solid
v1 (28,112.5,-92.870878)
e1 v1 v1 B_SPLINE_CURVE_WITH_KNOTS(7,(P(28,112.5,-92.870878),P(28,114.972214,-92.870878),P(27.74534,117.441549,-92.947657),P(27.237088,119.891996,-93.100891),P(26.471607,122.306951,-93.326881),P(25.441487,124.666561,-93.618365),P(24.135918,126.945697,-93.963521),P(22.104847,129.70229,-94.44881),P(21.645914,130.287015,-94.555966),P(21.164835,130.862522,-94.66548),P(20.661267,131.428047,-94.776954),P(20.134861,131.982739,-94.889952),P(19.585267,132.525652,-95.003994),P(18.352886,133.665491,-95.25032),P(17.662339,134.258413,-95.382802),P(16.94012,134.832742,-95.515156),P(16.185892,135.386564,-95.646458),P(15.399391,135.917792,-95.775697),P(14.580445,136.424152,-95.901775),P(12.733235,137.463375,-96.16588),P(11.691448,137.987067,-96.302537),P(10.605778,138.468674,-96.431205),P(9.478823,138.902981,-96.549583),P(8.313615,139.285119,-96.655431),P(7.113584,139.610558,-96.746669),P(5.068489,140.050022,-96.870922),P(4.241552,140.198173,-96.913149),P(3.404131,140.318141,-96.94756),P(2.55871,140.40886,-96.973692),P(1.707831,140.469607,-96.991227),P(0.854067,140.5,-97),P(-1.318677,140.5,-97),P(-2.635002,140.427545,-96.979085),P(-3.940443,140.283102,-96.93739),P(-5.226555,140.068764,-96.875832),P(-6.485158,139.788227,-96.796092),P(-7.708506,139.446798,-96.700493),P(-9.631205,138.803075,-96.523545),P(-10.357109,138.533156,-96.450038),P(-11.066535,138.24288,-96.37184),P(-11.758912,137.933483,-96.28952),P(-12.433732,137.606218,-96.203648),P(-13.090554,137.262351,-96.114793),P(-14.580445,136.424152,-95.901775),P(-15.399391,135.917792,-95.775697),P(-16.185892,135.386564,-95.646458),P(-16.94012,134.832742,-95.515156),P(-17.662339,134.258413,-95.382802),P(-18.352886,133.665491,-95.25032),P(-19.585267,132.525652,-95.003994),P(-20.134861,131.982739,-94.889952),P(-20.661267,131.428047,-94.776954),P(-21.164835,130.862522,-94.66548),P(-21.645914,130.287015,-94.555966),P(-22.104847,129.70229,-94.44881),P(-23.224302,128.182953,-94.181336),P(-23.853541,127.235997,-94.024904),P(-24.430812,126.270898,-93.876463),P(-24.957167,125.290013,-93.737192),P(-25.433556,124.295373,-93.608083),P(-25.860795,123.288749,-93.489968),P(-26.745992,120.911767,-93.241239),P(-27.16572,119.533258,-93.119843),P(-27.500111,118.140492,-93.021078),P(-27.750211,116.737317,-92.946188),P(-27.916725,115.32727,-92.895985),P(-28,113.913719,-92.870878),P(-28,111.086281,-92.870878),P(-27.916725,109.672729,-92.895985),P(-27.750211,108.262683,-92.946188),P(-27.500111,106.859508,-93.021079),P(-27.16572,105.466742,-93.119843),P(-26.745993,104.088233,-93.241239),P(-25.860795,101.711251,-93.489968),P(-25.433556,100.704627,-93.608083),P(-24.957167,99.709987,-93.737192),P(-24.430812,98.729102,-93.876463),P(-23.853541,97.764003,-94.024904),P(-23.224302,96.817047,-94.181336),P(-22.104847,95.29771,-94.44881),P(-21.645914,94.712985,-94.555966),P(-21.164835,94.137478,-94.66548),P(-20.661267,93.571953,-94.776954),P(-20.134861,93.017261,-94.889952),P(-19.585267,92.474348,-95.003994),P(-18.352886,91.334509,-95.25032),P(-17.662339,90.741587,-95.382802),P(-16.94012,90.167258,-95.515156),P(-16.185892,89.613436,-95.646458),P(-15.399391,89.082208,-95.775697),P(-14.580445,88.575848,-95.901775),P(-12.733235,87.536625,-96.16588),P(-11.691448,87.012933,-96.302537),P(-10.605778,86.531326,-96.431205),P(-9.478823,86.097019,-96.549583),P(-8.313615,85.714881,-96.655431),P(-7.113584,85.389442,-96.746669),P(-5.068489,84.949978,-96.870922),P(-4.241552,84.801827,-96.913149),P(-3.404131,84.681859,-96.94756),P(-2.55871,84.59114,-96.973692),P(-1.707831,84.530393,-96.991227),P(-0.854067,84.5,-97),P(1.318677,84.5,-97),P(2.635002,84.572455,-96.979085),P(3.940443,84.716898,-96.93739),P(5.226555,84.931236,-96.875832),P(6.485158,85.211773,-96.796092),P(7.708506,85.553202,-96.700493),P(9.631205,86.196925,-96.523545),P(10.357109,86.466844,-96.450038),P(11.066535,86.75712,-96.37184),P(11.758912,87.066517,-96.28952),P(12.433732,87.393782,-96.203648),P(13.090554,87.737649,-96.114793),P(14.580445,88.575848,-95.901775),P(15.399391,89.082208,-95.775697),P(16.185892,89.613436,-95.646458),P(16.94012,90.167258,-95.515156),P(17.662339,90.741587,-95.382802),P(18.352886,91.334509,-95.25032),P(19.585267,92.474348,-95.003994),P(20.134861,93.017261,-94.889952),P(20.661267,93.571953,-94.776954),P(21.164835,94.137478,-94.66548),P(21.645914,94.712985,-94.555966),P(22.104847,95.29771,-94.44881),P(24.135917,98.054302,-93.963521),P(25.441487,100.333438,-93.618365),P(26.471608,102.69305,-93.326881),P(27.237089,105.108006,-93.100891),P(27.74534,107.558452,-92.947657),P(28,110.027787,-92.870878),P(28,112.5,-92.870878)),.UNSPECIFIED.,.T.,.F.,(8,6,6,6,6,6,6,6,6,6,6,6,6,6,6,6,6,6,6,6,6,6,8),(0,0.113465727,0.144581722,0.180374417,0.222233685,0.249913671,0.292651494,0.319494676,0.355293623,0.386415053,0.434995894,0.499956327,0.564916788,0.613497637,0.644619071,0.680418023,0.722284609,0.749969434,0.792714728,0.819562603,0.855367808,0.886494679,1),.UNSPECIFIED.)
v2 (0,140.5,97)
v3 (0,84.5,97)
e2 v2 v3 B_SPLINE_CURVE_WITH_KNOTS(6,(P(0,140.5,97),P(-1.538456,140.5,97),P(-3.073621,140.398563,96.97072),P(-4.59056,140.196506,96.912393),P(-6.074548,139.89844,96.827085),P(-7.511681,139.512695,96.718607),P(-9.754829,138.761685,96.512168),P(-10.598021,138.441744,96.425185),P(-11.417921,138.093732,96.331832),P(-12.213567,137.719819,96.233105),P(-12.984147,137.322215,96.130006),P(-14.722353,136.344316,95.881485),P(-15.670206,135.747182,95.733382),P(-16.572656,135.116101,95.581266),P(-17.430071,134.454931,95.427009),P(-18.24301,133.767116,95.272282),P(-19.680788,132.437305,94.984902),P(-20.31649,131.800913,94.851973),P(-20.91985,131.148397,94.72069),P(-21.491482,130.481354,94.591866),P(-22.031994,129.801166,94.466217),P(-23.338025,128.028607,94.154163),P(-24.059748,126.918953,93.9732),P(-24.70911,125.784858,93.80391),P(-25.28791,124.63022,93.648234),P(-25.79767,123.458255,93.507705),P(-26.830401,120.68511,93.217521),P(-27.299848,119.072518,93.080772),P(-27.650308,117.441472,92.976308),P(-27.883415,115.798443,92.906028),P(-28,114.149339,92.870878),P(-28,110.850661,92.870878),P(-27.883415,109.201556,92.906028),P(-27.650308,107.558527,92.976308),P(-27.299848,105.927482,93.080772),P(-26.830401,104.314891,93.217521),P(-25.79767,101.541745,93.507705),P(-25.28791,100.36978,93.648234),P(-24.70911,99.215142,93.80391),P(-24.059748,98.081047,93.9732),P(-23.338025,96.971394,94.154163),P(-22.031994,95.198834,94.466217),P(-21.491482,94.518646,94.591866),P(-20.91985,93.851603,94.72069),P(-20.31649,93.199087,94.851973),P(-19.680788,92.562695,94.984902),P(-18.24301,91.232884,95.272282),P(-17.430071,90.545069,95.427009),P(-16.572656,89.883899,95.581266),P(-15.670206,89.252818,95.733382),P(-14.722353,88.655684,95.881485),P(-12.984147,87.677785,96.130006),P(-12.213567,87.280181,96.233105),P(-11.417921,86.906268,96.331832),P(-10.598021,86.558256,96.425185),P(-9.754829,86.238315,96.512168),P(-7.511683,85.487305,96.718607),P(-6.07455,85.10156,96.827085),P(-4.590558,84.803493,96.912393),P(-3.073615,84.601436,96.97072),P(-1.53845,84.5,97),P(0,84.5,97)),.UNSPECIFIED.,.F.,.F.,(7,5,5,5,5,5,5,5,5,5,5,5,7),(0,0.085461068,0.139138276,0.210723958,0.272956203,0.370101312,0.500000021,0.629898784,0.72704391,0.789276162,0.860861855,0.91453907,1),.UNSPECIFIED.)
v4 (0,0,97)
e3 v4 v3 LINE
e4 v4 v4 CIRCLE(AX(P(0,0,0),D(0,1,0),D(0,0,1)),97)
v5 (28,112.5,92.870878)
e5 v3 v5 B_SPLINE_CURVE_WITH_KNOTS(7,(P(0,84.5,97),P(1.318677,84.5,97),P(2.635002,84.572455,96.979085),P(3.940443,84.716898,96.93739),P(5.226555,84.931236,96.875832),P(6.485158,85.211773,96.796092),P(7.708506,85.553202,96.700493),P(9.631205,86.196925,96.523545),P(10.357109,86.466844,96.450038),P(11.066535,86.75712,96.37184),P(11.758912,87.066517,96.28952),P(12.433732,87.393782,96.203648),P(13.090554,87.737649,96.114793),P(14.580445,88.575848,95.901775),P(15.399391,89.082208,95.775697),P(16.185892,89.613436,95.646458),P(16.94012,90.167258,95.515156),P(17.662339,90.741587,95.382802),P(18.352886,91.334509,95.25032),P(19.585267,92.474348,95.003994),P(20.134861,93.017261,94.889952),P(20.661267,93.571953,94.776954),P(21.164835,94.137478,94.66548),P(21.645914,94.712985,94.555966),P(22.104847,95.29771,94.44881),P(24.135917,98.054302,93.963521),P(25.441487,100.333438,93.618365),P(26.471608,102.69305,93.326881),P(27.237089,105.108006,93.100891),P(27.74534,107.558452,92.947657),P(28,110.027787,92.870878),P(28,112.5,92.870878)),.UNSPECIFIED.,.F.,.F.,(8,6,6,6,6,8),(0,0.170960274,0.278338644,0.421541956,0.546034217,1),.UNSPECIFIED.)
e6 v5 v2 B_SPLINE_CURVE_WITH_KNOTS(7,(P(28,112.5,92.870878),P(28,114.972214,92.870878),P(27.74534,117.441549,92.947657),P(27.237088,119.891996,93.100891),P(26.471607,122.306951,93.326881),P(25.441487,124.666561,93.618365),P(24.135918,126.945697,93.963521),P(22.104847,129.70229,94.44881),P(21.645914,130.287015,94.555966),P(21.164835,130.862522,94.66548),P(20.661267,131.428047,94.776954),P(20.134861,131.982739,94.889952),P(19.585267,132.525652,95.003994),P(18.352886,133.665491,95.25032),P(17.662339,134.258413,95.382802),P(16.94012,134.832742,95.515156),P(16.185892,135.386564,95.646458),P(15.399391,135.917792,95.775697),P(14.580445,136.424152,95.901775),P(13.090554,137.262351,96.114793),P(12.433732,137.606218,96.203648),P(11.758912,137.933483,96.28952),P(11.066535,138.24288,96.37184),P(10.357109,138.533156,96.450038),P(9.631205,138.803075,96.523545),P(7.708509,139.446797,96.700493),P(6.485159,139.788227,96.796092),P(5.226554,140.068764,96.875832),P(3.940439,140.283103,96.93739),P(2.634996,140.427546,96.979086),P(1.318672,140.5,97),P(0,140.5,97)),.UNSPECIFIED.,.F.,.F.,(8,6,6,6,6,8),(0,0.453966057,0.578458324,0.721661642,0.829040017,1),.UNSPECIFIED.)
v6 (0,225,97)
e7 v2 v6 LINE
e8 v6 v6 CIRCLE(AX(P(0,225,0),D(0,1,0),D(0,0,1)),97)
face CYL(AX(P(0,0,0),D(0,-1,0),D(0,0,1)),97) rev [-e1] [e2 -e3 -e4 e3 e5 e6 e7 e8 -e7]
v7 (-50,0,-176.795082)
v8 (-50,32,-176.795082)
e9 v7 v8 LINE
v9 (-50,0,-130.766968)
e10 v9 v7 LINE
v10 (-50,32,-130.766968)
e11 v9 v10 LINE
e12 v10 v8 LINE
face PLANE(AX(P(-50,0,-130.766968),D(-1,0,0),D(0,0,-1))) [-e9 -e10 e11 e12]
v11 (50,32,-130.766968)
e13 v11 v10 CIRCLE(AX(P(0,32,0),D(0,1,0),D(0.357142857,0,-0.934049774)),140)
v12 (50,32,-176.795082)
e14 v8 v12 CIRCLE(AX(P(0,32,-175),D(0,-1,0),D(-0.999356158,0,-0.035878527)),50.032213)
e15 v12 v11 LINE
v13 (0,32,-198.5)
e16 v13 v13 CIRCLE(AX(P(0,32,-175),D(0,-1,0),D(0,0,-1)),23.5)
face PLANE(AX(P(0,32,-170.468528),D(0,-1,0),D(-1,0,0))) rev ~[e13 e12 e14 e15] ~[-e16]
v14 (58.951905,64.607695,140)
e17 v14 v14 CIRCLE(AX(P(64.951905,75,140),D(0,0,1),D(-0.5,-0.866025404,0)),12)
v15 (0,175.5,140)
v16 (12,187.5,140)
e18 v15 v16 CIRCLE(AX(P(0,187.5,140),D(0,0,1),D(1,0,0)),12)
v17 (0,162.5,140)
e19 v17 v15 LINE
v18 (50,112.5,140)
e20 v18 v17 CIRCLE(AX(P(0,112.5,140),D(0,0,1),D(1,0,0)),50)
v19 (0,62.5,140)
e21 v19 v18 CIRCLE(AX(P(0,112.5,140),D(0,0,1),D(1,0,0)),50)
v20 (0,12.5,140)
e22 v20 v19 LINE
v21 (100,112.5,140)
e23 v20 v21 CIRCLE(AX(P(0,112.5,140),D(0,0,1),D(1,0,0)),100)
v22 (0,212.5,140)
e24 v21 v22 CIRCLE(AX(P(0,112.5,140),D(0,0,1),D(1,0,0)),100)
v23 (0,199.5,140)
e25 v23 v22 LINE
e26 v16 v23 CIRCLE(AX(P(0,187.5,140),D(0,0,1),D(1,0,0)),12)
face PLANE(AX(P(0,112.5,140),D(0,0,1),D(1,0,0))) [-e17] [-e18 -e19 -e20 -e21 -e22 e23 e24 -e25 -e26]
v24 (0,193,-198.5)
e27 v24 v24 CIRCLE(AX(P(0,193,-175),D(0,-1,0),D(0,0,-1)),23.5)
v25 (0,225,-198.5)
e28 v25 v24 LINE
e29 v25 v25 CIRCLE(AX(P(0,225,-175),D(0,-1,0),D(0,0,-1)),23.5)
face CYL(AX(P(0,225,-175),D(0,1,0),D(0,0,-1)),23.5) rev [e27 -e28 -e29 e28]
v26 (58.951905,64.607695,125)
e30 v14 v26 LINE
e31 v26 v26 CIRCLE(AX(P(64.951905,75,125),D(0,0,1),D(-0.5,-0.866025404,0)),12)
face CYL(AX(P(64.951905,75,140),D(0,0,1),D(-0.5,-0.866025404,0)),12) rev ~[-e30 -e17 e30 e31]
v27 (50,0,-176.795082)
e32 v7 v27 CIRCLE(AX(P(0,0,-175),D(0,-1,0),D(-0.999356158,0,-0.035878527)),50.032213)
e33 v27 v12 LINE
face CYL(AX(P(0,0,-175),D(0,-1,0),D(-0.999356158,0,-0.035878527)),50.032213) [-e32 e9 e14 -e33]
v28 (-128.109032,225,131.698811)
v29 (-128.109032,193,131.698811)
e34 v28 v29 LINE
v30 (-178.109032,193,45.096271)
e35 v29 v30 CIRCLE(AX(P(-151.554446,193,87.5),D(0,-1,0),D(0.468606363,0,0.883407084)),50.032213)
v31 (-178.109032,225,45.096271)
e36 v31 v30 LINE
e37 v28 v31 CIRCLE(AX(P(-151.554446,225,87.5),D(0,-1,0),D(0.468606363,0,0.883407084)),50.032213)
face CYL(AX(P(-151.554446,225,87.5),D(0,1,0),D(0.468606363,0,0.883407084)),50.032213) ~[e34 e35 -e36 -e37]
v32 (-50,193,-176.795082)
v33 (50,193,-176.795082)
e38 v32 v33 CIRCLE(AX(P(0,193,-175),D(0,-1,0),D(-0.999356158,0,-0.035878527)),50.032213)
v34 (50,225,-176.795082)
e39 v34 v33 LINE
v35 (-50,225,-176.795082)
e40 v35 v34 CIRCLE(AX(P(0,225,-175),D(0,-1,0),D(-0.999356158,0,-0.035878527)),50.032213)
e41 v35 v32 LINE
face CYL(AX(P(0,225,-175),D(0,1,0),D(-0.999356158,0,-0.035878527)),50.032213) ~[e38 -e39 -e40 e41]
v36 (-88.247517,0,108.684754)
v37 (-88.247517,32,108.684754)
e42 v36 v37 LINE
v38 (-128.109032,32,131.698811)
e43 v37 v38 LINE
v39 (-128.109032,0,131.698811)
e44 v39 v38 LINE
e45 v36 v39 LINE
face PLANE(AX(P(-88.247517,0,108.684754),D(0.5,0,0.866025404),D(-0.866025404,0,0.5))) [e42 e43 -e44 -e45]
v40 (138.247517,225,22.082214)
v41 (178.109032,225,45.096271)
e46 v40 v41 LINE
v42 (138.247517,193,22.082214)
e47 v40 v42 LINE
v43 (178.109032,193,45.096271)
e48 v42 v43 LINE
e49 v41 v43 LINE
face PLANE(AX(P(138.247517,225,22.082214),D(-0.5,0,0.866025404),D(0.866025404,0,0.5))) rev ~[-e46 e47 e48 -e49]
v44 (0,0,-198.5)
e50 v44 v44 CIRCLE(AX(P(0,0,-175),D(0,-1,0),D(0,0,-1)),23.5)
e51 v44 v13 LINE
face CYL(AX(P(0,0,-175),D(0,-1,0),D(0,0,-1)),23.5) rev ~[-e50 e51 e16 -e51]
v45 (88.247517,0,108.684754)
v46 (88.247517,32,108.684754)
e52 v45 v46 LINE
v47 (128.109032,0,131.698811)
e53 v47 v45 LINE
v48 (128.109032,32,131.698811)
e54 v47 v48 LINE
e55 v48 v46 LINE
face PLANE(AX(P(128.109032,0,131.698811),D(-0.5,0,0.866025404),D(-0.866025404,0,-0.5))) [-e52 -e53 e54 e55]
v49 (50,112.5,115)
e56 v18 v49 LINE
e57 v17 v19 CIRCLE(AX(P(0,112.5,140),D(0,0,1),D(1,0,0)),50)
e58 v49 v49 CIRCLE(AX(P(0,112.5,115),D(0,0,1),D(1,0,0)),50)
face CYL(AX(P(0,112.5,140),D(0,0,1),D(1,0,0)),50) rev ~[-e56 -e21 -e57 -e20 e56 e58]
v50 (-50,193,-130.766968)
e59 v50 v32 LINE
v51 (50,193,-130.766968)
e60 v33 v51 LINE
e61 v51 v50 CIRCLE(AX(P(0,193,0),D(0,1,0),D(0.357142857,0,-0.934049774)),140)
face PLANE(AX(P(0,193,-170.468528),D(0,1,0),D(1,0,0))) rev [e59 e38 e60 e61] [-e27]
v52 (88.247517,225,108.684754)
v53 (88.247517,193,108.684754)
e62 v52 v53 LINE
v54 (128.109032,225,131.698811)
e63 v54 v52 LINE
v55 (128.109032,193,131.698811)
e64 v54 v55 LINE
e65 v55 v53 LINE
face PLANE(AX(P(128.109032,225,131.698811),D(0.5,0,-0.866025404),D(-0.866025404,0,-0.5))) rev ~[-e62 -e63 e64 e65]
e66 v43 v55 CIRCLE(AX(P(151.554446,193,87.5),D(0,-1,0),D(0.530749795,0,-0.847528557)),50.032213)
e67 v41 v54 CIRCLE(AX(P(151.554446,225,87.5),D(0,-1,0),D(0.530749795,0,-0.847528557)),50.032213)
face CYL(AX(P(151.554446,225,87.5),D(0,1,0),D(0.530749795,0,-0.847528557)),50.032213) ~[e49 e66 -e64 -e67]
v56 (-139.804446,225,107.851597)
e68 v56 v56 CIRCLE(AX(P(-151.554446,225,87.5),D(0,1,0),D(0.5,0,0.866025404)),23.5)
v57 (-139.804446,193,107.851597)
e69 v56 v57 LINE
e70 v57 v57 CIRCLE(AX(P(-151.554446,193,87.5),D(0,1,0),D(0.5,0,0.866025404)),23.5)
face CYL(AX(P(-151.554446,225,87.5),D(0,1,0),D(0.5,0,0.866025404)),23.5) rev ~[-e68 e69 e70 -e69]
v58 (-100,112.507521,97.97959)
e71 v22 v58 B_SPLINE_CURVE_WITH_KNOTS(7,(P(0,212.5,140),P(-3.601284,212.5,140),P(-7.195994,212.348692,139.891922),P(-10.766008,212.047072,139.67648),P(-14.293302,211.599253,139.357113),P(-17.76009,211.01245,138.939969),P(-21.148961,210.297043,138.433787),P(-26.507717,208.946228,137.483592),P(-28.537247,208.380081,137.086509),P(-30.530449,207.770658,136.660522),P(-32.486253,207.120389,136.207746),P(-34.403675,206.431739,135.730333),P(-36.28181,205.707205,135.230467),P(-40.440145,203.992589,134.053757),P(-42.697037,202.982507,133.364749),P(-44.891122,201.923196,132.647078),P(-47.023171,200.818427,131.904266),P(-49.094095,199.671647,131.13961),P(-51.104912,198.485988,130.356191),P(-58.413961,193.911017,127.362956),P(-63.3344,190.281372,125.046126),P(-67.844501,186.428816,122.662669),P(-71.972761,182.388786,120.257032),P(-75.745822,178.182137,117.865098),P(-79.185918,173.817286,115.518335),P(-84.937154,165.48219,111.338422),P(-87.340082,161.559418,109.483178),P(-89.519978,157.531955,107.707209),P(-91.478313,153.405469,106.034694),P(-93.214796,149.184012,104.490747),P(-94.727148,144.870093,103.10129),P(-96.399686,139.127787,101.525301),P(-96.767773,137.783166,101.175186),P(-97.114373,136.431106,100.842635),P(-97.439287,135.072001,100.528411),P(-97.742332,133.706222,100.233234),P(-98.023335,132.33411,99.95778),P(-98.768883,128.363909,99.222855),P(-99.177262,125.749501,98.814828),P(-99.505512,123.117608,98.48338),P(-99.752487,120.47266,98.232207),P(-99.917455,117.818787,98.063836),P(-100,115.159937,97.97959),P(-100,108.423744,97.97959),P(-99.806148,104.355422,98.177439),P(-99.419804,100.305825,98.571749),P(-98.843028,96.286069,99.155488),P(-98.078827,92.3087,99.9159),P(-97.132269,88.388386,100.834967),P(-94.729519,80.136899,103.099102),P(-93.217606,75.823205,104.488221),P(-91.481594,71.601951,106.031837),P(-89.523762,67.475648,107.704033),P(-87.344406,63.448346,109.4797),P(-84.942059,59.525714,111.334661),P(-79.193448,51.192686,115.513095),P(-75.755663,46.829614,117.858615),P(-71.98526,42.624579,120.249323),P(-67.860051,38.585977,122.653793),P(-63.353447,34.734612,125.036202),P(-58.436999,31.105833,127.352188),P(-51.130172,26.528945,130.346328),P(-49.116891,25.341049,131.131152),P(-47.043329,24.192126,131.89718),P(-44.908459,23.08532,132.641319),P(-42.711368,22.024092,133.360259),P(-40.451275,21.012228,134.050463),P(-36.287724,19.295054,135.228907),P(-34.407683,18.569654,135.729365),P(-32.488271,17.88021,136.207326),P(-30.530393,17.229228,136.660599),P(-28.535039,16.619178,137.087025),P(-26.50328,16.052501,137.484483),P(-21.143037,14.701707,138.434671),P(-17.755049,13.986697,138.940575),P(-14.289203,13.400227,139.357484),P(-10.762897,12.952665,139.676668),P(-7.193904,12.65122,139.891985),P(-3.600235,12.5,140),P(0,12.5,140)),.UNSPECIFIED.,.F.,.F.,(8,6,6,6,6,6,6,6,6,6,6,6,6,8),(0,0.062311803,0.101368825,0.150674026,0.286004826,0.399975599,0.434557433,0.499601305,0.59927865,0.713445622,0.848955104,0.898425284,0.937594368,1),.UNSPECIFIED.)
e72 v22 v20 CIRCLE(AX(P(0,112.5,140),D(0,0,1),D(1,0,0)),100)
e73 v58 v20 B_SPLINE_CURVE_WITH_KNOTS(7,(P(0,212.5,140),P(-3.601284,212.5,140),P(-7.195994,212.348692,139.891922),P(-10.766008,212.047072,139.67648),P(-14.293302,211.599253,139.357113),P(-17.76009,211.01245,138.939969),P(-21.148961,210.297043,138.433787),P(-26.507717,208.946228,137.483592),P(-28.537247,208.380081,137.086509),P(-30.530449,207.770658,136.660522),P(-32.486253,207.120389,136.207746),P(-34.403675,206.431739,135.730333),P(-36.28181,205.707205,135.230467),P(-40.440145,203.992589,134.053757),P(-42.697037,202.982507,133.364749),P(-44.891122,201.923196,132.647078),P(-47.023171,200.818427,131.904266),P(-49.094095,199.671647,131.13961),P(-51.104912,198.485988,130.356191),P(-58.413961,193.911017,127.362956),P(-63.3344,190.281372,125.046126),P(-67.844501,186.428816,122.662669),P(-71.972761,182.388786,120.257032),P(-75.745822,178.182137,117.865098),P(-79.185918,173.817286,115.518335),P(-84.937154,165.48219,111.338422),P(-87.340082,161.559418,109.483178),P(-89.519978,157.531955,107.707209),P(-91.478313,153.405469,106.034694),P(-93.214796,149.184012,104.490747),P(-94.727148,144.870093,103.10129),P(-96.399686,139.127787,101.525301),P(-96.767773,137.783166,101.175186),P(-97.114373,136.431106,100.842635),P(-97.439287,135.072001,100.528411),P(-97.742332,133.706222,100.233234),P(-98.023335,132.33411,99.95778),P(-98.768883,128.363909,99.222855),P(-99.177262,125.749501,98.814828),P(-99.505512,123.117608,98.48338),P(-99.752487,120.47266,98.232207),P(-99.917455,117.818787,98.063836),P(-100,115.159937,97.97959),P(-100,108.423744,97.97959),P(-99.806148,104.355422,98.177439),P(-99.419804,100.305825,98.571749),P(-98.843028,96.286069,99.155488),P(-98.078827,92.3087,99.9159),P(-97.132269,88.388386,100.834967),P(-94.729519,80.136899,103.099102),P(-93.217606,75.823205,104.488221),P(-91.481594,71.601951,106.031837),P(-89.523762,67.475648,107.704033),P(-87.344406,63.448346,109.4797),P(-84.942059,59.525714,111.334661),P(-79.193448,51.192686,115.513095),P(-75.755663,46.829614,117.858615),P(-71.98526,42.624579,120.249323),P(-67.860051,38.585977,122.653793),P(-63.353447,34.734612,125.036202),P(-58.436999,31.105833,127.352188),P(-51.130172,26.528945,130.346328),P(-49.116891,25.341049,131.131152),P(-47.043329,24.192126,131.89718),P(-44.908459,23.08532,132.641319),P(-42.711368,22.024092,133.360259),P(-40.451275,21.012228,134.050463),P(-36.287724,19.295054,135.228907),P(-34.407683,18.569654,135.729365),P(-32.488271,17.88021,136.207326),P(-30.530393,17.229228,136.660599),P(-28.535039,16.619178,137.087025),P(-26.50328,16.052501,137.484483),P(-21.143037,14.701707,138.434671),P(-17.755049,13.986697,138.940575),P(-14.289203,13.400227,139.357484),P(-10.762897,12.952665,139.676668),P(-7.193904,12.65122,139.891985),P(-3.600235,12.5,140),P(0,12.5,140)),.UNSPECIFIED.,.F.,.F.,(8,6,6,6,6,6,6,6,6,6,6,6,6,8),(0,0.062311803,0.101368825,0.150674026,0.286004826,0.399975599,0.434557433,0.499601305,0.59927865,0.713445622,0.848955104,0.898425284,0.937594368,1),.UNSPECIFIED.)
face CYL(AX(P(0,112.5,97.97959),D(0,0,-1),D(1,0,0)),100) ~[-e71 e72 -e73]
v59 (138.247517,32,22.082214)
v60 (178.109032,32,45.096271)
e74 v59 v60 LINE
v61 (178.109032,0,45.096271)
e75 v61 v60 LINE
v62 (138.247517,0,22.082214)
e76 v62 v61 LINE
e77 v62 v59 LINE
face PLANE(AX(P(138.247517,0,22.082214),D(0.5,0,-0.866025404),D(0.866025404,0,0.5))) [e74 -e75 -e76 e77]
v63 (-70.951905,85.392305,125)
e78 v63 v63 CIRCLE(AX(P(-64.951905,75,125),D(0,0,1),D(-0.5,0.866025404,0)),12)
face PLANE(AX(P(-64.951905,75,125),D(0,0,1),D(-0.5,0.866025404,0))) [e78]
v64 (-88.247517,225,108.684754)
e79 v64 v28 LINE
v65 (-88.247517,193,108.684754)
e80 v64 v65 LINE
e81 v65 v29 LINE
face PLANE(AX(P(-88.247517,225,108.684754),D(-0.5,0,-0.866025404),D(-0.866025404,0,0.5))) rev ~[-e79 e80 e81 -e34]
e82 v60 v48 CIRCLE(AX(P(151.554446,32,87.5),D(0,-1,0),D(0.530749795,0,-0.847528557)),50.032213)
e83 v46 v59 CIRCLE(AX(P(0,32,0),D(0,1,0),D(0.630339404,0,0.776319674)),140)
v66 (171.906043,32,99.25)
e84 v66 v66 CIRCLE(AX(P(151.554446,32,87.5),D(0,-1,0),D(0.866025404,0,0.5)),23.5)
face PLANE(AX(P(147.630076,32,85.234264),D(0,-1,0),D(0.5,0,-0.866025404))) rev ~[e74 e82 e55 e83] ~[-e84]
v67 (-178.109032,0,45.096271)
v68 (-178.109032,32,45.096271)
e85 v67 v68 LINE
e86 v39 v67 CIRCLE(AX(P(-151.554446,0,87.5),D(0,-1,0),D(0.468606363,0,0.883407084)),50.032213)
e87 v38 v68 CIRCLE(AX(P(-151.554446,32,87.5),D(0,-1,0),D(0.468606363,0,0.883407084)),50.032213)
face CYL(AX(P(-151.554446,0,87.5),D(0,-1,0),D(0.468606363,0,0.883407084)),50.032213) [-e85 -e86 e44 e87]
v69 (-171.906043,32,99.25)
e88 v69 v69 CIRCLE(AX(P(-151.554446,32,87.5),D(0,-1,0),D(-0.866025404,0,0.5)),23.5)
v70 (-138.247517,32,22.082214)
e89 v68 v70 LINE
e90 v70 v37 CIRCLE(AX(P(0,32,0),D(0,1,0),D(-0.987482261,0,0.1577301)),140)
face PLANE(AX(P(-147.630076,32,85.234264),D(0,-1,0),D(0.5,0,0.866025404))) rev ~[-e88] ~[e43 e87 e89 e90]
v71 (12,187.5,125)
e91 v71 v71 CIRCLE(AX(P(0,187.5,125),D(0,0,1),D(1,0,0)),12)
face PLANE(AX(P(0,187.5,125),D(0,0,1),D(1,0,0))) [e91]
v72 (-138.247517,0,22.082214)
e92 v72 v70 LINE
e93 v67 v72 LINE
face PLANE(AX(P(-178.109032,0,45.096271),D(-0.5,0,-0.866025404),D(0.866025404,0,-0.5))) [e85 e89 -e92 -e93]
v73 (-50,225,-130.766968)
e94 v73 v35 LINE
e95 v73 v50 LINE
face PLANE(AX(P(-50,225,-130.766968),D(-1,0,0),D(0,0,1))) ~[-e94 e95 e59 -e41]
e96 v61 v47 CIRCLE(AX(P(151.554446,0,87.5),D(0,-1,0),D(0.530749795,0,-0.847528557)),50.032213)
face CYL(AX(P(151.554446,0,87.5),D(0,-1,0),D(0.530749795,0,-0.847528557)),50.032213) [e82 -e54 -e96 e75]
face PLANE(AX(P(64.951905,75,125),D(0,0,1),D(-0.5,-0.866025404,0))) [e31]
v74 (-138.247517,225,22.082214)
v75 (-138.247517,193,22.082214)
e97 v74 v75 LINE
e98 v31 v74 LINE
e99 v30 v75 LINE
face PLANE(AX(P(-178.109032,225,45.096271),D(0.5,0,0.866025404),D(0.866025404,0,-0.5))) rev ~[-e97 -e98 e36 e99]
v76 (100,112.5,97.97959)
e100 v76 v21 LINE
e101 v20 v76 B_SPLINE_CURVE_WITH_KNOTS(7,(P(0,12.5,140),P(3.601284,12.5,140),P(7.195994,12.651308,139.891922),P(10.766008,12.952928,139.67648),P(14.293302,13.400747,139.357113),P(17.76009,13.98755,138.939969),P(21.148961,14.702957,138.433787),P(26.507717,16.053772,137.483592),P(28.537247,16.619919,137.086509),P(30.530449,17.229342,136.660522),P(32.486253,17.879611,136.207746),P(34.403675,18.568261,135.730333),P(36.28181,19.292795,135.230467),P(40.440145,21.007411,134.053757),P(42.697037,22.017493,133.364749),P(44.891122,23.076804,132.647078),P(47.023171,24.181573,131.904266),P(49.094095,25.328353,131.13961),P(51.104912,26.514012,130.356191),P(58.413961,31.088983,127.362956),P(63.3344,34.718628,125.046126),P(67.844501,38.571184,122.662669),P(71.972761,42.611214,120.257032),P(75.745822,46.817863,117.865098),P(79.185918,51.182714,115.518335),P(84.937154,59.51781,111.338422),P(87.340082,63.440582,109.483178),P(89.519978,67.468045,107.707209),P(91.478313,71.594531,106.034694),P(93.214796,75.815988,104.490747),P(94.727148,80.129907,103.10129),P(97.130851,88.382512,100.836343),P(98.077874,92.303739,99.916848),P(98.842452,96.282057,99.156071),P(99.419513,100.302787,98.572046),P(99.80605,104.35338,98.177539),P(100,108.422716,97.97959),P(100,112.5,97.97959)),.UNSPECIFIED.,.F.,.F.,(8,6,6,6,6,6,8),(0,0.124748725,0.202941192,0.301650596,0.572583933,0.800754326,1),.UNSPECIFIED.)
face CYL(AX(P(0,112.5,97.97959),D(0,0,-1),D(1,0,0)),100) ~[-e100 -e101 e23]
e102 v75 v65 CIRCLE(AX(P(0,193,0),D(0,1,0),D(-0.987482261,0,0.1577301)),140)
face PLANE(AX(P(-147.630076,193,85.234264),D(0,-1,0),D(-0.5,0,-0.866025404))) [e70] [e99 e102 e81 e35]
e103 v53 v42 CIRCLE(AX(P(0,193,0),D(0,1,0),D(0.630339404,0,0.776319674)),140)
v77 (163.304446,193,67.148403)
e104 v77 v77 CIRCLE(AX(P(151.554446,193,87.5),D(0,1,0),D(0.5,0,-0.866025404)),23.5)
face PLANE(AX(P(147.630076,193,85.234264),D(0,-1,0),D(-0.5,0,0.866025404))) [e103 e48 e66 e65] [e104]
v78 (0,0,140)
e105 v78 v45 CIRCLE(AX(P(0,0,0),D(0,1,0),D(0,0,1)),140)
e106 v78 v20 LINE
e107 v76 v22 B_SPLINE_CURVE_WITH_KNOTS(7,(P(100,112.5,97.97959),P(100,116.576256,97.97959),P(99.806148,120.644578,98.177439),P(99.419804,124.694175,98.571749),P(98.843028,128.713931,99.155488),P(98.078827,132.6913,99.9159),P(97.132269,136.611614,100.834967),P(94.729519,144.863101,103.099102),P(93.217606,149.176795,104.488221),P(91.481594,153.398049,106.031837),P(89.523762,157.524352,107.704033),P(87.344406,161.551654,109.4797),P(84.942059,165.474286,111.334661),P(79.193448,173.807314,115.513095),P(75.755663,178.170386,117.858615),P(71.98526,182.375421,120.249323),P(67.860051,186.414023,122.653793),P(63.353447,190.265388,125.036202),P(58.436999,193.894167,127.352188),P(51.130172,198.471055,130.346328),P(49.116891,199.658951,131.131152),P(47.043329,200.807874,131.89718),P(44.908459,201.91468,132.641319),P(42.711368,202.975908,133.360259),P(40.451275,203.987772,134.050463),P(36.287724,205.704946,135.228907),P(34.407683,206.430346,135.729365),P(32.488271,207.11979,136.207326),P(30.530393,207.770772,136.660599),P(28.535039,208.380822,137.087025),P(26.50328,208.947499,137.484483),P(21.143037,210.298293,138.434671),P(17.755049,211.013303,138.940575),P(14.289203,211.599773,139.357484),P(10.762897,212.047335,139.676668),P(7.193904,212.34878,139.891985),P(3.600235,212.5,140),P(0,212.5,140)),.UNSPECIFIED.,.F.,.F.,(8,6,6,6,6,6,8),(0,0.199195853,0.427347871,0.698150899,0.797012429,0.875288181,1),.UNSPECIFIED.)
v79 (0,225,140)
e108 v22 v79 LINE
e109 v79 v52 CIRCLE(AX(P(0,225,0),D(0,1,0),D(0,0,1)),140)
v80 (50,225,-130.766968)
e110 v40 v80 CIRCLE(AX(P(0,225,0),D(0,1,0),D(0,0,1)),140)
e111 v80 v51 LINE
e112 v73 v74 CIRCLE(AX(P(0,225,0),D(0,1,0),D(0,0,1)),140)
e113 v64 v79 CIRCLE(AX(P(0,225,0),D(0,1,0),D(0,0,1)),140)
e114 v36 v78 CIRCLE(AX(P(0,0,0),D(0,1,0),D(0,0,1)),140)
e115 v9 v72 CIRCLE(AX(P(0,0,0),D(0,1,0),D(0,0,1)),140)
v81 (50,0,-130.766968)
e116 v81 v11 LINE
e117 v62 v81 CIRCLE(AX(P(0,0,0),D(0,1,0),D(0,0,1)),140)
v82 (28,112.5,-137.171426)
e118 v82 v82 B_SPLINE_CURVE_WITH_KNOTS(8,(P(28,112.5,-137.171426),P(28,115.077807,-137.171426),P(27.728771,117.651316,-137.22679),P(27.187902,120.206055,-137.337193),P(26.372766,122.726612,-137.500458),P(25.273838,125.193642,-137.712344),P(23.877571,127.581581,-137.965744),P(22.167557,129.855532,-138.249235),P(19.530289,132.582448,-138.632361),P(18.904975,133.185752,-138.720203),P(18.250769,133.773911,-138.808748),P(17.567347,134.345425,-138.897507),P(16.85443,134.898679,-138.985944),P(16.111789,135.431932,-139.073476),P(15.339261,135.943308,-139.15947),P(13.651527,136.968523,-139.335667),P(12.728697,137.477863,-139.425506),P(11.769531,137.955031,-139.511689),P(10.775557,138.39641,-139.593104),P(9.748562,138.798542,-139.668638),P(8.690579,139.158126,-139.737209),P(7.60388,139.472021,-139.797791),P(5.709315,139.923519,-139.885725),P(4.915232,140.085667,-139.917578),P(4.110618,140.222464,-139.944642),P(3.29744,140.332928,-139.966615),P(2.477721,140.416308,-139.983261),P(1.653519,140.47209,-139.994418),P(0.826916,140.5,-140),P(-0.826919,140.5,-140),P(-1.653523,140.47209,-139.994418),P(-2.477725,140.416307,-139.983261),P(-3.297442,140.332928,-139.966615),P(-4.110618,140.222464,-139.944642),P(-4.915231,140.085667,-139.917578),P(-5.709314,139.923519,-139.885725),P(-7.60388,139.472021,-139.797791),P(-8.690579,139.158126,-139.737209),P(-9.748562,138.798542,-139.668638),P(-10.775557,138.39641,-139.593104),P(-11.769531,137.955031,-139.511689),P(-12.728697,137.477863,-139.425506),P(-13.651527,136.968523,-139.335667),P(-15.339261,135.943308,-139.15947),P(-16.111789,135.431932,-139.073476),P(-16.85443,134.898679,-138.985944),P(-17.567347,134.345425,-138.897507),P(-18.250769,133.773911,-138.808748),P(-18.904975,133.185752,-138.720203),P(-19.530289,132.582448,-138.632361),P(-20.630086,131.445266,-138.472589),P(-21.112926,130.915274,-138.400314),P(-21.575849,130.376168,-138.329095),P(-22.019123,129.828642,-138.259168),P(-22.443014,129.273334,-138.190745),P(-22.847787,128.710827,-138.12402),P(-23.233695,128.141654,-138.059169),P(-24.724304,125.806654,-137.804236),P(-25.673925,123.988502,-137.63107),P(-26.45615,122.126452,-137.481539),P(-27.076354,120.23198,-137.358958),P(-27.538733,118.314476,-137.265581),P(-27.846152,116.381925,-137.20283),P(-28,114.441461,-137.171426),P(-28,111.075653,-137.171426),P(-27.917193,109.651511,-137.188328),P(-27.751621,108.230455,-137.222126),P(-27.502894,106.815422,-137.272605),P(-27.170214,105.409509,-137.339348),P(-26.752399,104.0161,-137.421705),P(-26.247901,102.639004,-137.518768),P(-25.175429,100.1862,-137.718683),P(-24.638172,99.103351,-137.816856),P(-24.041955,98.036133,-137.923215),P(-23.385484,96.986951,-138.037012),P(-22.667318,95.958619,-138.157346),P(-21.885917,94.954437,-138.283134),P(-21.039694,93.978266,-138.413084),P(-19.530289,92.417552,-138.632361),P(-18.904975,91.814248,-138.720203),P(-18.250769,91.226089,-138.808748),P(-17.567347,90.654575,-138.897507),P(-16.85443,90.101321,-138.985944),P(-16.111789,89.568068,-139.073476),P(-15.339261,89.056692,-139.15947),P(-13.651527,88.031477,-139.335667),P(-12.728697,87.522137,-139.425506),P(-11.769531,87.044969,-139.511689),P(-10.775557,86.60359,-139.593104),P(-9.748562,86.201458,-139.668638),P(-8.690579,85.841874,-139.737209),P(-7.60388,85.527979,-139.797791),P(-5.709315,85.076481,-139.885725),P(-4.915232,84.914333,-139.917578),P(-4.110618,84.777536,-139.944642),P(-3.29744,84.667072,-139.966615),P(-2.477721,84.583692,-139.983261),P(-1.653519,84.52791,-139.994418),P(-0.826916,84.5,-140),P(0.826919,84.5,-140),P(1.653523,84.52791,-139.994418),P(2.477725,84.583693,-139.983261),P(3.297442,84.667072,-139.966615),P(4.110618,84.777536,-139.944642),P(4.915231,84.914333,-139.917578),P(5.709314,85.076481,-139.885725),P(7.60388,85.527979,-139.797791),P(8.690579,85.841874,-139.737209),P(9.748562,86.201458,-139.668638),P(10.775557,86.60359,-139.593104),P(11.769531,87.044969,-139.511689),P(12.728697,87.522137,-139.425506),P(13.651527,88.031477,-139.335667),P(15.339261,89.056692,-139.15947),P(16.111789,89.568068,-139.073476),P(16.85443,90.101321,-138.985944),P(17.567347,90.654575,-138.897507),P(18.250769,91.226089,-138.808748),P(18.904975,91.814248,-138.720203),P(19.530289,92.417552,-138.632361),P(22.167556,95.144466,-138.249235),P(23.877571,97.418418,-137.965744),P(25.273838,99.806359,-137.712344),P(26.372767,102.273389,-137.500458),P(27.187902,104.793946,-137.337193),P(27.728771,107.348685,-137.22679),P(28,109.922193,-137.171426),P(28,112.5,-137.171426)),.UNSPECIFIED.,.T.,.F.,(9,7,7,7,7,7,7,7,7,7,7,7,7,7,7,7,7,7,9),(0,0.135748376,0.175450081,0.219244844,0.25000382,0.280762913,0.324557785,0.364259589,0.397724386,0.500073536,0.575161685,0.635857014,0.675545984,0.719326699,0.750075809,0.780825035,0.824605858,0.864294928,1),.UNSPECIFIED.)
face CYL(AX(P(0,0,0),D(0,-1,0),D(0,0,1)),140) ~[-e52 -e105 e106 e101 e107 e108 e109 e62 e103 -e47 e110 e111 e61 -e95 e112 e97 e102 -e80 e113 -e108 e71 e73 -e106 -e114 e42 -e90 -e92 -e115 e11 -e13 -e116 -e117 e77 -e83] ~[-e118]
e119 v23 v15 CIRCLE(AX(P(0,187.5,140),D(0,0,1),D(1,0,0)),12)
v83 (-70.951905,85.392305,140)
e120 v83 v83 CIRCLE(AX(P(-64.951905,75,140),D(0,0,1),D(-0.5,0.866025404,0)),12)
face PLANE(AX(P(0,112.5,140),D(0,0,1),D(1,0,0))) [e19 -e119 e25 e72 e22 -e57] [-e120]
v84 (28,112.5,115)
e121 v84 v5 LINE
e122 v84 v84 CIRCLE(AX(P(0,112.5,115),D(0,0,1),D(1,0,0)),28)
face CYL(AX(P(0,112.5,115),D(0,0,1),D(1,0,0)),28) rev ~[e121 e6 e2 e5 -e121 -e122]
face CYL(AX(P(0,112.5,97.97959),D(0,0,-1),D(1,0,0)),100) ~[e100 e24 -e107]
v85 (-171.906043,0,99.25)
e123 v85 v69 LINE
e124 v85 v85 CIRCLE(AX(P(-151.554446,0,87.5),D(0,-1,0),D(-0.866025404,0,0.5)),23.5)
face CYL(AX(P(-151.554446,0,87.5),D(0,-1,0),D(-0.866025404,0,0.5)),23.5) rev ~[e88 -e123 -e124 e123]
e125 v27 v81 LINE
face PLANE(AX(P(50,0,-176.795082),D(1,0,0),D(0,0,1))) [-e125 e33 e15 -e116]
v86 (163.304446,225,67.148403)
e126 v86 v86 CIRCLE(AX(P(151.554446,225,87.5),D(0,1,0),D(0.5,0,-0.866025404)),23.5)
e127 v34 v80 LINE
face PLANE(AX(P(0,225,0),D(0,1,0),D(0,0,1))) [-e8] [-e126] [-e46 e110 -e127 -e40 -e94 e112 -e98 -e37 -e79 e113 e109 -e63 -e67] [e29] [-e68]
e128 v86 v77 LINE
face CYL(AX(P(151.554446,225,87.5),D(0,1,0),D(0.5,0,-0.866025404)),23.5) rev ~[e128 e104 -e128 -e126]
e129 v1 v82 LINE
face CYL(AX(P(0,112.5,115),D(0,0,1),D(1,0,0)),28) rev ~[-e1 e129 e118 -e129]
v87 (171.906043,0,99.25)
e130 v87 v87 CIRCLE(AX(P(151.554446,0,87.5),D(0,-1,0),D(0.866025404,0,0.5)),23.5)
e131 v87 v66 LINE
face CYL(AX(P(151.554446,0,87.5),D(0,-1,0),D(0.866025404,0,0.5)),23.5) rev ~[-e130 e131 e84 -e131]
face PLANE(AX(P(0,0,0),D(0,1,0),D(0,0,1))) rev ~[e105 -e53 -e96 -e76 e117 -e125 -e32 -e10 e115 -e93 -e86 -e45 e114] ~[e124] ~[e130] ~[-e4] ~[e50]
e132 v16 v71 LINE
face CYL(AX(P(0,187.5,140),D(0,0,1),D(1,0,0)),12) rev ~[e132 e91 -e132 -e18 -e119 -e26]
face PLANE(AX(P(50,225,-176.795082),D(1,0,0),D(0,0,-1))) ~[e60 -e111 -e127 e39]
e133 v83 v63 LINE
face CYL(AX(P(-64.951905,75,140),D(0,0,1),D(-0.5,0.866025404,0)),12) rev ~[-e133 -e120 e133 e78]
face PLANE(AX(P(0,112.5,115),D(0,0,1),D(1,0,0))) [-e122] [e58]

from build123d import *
from build123d.topology import SkipClean

# Parameters (mm, degrees)
SKETCH1_R               = 140
SKETCH1_R_2             = 97
BOSS_EXTRUDE1_DEPTH     = 225
SKETCH5_R               = 23.5
BOSS_EXTRUDE2_DEPTH     = 32
CIRPATTERN1_COUNT       = 3
MIRROR1_COPY_1_SKETCH_R = 23.5
MIRROR1_COPY_1_DEPTH    = 32
MIRROR1_COPY_2_SKETCH_R = 23.5
MIRROR1_COPY_2_DEPTH    = 32
BOSS_EXTRUDE3_START     = -42.02041
SKETCH6_R               = 100
BOSS_EXTRUDE3_DEPTH     = 42.02041
SKETCH7_R               = 50
CUT_EXTRUDE1_DEPTH      = 25
SKETCH8_R               = 28
CUT_EXTRUDE2_DEPTH      = 455.845123838
SKETCH9_R               = 12
CUT_EXTRUDE3_DEPTH      = 15
CIRPATTERN2_COUNT       = 3


with BuildPart() as part:
    # Sketch1 → Boss-Extrude1 (new body)
    with BuildSketch(Plane(origin=(0, 0, 0), x_dir=(1, 0, 0), z_dir=(0, 1, 0))):
        with Locations(Location((0, 0, 0), (0, 0, 270))):
            Circle(SKETCH1_R)
        with Locations(Location((0, 0, 0), (0, 0, 270))):
            Circle(SKETCH1_R_2, mode=Mode.SUBTRACT)
    extrude(amount=BOSS_EXTRUDE1_DEPTH)

    # Sketch5 → Boss-Extrude2 (add)
    with BuildSketch(Plane(origin=(0, 0, 0), x_dir=(-1, 0, 0), z_dir=(0, -1, 0))):
        with BuildLine():
            ThreePointArc((50, 176.795082097), (0, 225.032212821), (-50, 176.795082097))
            Line((-50, 176.795082097), (-50, 173.204917903))
            Line((-50, 173.204917903), (-50, 130.766968306))
            ThreePointArc((-50, 130.766968306), (0, 140), (50, 130.766968306))
            Line((50, 130.766968306), (50, 173.204917903))
            Line((50, 173.204917903), (50, 176.795082097))
        make_face()
        with Locations(Location((0, 175, 0), (0, 0, 90))):
            Circle(SKETCH5_R, mode=Mode.SUBTRACT)
    boss_extrude2 = extrude(amount=-BOSS_EXTRUDE2_DEPTH)

    # CirPattern1: Boss-Extrude2 ×3 about axis
    cirpattern1_axis = Axis((0, 0, 0), (0, 1, 0))
    for i in range(1, CIRPATTERN1_COUNT):
        add(boss_extrude2.rotate(cirpattern1_axis, i * 360 / CIRPATTERN1_COUNT))

    # Mirror1: Boss-Extrude2 across plane
    add(boss_extrude2.mirror(Plane(origin=(0, 112.5, 0), x_dir=(0, 0, 1), z_dir=(0, -1, 0))))

    # Mirror1 copy 1 sketch → Mirror1 copy 1 (add)
    with BuildSketch(Plane(origin=(0, 225, 0), x_dir=(0.4999999999999998, 0, 0.8660254037844387), z_dir=(0, 1, 0))):
        with BuildLine():
            ThreePointArc((50, -176.795082097), (0, -225.032212821), (-50, -176.795082097))
            Line((-50, -176.795082097), (-50, -173.204917903))
            Line((-50, -173.204917903), (-50, -130.766968306))
            ThreePointArc((-50, -130.766968306), (0, -140), (50, -130.766968306))
            Line((50, -130.766968306), (50, -173.204917903))
            Line((50, -173.204917903), (50, -176.795082097))
        make_face()
        with Locations((0, -175)):
            Circle(MIRROR1_COPY_1_SKETCH_R, mode=Mode.SUBTRACT)
    extrude(amount=-MIRROR1_COPY_1_DEPTH)

    # Mirror1 copy 2 sketch → Mirror1 copy 2 (add)
    with BuildSketch(Plane(origin=(0, 225, 0), x_dir=(0.5000000000000004, 0, -0.8660254037844384), z_dir=(0, 1, 0))):
        with BuildLine():
            ThreePointArc((50, -176.795082097), (0, -225.032212821), (-50, -176.795082097))
            Line((-50, -176.795082097), (-50, -173.204917903))
            Line((-50, -173.204917903), (-50, -130.766968306))
            ThreePointArc((-50, -130.766968306), (0, -140), (50, -130.766968306))
            Line((50, -130.766968306), (50, -173.204917903))
            Line((50, -173.204917903), (50, -176.795082097))
        make_face()
        with Locations((0, -175)):
            Circle(MIRROR1_COPY_2_SKETCH_R, mode=Mode.SUBTRACT)
    extrude(amount=-MIRROR1_COPY_2_DEPTH)

    # Sketch6 → Boss-Extrude3 (add)
    with SkipClean():  # the faces are left unmerged after this step: merging them gives an invalid solid
        with BuildSketch(Plane.XY.offset(140).offset(BOSS_EXTRUDE3_START)):
            with Locations((0, 112.5)):
                Circle(SKETCH6_R)
        extrude(amount=BOSS_EXTRUDE3_DEPTH)

    # Sketch7 → Cut-Extrude1 (cut)
    with SkipClean():  # the faces are left unmerged after this step: merging them gives an invalid solid
        with BuildSketch(Plane.XY.offset(140)):
            with Locations((0, 112.5)):
                Circle(SKETCH7_R)
        extrude(amount=-CUT_EXTRUDE1_DEPTH, mode=Mode.SUBTRACT)

    # Sketch8 → Cut-Extrude2 (cut, through all)
    with SkipClean():  # the faces are left unmerged after this step: merging them gives an invalid solid
        with BuildSketch(Plane.XY.offset(115)):
            with Locations((0, 112.5)):
                Circle(SKETCH8_R)
        extrude(amount=-CUT_EXTRUDE2_DEPTH, mode=Mode.SUBTRACT)

    # Sketch9 → Cut-Extrude3 (cut)
    with SkipClean():  # the faces are left unmerged after this step: merging them gives an invalid solid
        with BuildSketch(Plane.XY.offset(140)):
            with Locations((0, 187.5)):
                Circle(SKETCH9_R)
        cut_extrude3 = extrude(amount=-CUT_EXTRUDE3_DEPTH, mode=Mode.SUBTRACT)

    # CirPattern2: Cut-Extrude3 ×3 about axis
    with SkipClean():  # the faces are left unmerged after this step: merging them gives an invalid solid
        cirpattern2_axis = Axis((0, 112.5, 0), (0, 0, 1))
        for i in range(1, CIRPATTERN2_COUNT):
            add(cut_extrude3.rotate(cirpattern2_axis, i * 360 / CIRPATTERN2_COUNT), mode=Mode.SUBTRACT)


solid = part.part
